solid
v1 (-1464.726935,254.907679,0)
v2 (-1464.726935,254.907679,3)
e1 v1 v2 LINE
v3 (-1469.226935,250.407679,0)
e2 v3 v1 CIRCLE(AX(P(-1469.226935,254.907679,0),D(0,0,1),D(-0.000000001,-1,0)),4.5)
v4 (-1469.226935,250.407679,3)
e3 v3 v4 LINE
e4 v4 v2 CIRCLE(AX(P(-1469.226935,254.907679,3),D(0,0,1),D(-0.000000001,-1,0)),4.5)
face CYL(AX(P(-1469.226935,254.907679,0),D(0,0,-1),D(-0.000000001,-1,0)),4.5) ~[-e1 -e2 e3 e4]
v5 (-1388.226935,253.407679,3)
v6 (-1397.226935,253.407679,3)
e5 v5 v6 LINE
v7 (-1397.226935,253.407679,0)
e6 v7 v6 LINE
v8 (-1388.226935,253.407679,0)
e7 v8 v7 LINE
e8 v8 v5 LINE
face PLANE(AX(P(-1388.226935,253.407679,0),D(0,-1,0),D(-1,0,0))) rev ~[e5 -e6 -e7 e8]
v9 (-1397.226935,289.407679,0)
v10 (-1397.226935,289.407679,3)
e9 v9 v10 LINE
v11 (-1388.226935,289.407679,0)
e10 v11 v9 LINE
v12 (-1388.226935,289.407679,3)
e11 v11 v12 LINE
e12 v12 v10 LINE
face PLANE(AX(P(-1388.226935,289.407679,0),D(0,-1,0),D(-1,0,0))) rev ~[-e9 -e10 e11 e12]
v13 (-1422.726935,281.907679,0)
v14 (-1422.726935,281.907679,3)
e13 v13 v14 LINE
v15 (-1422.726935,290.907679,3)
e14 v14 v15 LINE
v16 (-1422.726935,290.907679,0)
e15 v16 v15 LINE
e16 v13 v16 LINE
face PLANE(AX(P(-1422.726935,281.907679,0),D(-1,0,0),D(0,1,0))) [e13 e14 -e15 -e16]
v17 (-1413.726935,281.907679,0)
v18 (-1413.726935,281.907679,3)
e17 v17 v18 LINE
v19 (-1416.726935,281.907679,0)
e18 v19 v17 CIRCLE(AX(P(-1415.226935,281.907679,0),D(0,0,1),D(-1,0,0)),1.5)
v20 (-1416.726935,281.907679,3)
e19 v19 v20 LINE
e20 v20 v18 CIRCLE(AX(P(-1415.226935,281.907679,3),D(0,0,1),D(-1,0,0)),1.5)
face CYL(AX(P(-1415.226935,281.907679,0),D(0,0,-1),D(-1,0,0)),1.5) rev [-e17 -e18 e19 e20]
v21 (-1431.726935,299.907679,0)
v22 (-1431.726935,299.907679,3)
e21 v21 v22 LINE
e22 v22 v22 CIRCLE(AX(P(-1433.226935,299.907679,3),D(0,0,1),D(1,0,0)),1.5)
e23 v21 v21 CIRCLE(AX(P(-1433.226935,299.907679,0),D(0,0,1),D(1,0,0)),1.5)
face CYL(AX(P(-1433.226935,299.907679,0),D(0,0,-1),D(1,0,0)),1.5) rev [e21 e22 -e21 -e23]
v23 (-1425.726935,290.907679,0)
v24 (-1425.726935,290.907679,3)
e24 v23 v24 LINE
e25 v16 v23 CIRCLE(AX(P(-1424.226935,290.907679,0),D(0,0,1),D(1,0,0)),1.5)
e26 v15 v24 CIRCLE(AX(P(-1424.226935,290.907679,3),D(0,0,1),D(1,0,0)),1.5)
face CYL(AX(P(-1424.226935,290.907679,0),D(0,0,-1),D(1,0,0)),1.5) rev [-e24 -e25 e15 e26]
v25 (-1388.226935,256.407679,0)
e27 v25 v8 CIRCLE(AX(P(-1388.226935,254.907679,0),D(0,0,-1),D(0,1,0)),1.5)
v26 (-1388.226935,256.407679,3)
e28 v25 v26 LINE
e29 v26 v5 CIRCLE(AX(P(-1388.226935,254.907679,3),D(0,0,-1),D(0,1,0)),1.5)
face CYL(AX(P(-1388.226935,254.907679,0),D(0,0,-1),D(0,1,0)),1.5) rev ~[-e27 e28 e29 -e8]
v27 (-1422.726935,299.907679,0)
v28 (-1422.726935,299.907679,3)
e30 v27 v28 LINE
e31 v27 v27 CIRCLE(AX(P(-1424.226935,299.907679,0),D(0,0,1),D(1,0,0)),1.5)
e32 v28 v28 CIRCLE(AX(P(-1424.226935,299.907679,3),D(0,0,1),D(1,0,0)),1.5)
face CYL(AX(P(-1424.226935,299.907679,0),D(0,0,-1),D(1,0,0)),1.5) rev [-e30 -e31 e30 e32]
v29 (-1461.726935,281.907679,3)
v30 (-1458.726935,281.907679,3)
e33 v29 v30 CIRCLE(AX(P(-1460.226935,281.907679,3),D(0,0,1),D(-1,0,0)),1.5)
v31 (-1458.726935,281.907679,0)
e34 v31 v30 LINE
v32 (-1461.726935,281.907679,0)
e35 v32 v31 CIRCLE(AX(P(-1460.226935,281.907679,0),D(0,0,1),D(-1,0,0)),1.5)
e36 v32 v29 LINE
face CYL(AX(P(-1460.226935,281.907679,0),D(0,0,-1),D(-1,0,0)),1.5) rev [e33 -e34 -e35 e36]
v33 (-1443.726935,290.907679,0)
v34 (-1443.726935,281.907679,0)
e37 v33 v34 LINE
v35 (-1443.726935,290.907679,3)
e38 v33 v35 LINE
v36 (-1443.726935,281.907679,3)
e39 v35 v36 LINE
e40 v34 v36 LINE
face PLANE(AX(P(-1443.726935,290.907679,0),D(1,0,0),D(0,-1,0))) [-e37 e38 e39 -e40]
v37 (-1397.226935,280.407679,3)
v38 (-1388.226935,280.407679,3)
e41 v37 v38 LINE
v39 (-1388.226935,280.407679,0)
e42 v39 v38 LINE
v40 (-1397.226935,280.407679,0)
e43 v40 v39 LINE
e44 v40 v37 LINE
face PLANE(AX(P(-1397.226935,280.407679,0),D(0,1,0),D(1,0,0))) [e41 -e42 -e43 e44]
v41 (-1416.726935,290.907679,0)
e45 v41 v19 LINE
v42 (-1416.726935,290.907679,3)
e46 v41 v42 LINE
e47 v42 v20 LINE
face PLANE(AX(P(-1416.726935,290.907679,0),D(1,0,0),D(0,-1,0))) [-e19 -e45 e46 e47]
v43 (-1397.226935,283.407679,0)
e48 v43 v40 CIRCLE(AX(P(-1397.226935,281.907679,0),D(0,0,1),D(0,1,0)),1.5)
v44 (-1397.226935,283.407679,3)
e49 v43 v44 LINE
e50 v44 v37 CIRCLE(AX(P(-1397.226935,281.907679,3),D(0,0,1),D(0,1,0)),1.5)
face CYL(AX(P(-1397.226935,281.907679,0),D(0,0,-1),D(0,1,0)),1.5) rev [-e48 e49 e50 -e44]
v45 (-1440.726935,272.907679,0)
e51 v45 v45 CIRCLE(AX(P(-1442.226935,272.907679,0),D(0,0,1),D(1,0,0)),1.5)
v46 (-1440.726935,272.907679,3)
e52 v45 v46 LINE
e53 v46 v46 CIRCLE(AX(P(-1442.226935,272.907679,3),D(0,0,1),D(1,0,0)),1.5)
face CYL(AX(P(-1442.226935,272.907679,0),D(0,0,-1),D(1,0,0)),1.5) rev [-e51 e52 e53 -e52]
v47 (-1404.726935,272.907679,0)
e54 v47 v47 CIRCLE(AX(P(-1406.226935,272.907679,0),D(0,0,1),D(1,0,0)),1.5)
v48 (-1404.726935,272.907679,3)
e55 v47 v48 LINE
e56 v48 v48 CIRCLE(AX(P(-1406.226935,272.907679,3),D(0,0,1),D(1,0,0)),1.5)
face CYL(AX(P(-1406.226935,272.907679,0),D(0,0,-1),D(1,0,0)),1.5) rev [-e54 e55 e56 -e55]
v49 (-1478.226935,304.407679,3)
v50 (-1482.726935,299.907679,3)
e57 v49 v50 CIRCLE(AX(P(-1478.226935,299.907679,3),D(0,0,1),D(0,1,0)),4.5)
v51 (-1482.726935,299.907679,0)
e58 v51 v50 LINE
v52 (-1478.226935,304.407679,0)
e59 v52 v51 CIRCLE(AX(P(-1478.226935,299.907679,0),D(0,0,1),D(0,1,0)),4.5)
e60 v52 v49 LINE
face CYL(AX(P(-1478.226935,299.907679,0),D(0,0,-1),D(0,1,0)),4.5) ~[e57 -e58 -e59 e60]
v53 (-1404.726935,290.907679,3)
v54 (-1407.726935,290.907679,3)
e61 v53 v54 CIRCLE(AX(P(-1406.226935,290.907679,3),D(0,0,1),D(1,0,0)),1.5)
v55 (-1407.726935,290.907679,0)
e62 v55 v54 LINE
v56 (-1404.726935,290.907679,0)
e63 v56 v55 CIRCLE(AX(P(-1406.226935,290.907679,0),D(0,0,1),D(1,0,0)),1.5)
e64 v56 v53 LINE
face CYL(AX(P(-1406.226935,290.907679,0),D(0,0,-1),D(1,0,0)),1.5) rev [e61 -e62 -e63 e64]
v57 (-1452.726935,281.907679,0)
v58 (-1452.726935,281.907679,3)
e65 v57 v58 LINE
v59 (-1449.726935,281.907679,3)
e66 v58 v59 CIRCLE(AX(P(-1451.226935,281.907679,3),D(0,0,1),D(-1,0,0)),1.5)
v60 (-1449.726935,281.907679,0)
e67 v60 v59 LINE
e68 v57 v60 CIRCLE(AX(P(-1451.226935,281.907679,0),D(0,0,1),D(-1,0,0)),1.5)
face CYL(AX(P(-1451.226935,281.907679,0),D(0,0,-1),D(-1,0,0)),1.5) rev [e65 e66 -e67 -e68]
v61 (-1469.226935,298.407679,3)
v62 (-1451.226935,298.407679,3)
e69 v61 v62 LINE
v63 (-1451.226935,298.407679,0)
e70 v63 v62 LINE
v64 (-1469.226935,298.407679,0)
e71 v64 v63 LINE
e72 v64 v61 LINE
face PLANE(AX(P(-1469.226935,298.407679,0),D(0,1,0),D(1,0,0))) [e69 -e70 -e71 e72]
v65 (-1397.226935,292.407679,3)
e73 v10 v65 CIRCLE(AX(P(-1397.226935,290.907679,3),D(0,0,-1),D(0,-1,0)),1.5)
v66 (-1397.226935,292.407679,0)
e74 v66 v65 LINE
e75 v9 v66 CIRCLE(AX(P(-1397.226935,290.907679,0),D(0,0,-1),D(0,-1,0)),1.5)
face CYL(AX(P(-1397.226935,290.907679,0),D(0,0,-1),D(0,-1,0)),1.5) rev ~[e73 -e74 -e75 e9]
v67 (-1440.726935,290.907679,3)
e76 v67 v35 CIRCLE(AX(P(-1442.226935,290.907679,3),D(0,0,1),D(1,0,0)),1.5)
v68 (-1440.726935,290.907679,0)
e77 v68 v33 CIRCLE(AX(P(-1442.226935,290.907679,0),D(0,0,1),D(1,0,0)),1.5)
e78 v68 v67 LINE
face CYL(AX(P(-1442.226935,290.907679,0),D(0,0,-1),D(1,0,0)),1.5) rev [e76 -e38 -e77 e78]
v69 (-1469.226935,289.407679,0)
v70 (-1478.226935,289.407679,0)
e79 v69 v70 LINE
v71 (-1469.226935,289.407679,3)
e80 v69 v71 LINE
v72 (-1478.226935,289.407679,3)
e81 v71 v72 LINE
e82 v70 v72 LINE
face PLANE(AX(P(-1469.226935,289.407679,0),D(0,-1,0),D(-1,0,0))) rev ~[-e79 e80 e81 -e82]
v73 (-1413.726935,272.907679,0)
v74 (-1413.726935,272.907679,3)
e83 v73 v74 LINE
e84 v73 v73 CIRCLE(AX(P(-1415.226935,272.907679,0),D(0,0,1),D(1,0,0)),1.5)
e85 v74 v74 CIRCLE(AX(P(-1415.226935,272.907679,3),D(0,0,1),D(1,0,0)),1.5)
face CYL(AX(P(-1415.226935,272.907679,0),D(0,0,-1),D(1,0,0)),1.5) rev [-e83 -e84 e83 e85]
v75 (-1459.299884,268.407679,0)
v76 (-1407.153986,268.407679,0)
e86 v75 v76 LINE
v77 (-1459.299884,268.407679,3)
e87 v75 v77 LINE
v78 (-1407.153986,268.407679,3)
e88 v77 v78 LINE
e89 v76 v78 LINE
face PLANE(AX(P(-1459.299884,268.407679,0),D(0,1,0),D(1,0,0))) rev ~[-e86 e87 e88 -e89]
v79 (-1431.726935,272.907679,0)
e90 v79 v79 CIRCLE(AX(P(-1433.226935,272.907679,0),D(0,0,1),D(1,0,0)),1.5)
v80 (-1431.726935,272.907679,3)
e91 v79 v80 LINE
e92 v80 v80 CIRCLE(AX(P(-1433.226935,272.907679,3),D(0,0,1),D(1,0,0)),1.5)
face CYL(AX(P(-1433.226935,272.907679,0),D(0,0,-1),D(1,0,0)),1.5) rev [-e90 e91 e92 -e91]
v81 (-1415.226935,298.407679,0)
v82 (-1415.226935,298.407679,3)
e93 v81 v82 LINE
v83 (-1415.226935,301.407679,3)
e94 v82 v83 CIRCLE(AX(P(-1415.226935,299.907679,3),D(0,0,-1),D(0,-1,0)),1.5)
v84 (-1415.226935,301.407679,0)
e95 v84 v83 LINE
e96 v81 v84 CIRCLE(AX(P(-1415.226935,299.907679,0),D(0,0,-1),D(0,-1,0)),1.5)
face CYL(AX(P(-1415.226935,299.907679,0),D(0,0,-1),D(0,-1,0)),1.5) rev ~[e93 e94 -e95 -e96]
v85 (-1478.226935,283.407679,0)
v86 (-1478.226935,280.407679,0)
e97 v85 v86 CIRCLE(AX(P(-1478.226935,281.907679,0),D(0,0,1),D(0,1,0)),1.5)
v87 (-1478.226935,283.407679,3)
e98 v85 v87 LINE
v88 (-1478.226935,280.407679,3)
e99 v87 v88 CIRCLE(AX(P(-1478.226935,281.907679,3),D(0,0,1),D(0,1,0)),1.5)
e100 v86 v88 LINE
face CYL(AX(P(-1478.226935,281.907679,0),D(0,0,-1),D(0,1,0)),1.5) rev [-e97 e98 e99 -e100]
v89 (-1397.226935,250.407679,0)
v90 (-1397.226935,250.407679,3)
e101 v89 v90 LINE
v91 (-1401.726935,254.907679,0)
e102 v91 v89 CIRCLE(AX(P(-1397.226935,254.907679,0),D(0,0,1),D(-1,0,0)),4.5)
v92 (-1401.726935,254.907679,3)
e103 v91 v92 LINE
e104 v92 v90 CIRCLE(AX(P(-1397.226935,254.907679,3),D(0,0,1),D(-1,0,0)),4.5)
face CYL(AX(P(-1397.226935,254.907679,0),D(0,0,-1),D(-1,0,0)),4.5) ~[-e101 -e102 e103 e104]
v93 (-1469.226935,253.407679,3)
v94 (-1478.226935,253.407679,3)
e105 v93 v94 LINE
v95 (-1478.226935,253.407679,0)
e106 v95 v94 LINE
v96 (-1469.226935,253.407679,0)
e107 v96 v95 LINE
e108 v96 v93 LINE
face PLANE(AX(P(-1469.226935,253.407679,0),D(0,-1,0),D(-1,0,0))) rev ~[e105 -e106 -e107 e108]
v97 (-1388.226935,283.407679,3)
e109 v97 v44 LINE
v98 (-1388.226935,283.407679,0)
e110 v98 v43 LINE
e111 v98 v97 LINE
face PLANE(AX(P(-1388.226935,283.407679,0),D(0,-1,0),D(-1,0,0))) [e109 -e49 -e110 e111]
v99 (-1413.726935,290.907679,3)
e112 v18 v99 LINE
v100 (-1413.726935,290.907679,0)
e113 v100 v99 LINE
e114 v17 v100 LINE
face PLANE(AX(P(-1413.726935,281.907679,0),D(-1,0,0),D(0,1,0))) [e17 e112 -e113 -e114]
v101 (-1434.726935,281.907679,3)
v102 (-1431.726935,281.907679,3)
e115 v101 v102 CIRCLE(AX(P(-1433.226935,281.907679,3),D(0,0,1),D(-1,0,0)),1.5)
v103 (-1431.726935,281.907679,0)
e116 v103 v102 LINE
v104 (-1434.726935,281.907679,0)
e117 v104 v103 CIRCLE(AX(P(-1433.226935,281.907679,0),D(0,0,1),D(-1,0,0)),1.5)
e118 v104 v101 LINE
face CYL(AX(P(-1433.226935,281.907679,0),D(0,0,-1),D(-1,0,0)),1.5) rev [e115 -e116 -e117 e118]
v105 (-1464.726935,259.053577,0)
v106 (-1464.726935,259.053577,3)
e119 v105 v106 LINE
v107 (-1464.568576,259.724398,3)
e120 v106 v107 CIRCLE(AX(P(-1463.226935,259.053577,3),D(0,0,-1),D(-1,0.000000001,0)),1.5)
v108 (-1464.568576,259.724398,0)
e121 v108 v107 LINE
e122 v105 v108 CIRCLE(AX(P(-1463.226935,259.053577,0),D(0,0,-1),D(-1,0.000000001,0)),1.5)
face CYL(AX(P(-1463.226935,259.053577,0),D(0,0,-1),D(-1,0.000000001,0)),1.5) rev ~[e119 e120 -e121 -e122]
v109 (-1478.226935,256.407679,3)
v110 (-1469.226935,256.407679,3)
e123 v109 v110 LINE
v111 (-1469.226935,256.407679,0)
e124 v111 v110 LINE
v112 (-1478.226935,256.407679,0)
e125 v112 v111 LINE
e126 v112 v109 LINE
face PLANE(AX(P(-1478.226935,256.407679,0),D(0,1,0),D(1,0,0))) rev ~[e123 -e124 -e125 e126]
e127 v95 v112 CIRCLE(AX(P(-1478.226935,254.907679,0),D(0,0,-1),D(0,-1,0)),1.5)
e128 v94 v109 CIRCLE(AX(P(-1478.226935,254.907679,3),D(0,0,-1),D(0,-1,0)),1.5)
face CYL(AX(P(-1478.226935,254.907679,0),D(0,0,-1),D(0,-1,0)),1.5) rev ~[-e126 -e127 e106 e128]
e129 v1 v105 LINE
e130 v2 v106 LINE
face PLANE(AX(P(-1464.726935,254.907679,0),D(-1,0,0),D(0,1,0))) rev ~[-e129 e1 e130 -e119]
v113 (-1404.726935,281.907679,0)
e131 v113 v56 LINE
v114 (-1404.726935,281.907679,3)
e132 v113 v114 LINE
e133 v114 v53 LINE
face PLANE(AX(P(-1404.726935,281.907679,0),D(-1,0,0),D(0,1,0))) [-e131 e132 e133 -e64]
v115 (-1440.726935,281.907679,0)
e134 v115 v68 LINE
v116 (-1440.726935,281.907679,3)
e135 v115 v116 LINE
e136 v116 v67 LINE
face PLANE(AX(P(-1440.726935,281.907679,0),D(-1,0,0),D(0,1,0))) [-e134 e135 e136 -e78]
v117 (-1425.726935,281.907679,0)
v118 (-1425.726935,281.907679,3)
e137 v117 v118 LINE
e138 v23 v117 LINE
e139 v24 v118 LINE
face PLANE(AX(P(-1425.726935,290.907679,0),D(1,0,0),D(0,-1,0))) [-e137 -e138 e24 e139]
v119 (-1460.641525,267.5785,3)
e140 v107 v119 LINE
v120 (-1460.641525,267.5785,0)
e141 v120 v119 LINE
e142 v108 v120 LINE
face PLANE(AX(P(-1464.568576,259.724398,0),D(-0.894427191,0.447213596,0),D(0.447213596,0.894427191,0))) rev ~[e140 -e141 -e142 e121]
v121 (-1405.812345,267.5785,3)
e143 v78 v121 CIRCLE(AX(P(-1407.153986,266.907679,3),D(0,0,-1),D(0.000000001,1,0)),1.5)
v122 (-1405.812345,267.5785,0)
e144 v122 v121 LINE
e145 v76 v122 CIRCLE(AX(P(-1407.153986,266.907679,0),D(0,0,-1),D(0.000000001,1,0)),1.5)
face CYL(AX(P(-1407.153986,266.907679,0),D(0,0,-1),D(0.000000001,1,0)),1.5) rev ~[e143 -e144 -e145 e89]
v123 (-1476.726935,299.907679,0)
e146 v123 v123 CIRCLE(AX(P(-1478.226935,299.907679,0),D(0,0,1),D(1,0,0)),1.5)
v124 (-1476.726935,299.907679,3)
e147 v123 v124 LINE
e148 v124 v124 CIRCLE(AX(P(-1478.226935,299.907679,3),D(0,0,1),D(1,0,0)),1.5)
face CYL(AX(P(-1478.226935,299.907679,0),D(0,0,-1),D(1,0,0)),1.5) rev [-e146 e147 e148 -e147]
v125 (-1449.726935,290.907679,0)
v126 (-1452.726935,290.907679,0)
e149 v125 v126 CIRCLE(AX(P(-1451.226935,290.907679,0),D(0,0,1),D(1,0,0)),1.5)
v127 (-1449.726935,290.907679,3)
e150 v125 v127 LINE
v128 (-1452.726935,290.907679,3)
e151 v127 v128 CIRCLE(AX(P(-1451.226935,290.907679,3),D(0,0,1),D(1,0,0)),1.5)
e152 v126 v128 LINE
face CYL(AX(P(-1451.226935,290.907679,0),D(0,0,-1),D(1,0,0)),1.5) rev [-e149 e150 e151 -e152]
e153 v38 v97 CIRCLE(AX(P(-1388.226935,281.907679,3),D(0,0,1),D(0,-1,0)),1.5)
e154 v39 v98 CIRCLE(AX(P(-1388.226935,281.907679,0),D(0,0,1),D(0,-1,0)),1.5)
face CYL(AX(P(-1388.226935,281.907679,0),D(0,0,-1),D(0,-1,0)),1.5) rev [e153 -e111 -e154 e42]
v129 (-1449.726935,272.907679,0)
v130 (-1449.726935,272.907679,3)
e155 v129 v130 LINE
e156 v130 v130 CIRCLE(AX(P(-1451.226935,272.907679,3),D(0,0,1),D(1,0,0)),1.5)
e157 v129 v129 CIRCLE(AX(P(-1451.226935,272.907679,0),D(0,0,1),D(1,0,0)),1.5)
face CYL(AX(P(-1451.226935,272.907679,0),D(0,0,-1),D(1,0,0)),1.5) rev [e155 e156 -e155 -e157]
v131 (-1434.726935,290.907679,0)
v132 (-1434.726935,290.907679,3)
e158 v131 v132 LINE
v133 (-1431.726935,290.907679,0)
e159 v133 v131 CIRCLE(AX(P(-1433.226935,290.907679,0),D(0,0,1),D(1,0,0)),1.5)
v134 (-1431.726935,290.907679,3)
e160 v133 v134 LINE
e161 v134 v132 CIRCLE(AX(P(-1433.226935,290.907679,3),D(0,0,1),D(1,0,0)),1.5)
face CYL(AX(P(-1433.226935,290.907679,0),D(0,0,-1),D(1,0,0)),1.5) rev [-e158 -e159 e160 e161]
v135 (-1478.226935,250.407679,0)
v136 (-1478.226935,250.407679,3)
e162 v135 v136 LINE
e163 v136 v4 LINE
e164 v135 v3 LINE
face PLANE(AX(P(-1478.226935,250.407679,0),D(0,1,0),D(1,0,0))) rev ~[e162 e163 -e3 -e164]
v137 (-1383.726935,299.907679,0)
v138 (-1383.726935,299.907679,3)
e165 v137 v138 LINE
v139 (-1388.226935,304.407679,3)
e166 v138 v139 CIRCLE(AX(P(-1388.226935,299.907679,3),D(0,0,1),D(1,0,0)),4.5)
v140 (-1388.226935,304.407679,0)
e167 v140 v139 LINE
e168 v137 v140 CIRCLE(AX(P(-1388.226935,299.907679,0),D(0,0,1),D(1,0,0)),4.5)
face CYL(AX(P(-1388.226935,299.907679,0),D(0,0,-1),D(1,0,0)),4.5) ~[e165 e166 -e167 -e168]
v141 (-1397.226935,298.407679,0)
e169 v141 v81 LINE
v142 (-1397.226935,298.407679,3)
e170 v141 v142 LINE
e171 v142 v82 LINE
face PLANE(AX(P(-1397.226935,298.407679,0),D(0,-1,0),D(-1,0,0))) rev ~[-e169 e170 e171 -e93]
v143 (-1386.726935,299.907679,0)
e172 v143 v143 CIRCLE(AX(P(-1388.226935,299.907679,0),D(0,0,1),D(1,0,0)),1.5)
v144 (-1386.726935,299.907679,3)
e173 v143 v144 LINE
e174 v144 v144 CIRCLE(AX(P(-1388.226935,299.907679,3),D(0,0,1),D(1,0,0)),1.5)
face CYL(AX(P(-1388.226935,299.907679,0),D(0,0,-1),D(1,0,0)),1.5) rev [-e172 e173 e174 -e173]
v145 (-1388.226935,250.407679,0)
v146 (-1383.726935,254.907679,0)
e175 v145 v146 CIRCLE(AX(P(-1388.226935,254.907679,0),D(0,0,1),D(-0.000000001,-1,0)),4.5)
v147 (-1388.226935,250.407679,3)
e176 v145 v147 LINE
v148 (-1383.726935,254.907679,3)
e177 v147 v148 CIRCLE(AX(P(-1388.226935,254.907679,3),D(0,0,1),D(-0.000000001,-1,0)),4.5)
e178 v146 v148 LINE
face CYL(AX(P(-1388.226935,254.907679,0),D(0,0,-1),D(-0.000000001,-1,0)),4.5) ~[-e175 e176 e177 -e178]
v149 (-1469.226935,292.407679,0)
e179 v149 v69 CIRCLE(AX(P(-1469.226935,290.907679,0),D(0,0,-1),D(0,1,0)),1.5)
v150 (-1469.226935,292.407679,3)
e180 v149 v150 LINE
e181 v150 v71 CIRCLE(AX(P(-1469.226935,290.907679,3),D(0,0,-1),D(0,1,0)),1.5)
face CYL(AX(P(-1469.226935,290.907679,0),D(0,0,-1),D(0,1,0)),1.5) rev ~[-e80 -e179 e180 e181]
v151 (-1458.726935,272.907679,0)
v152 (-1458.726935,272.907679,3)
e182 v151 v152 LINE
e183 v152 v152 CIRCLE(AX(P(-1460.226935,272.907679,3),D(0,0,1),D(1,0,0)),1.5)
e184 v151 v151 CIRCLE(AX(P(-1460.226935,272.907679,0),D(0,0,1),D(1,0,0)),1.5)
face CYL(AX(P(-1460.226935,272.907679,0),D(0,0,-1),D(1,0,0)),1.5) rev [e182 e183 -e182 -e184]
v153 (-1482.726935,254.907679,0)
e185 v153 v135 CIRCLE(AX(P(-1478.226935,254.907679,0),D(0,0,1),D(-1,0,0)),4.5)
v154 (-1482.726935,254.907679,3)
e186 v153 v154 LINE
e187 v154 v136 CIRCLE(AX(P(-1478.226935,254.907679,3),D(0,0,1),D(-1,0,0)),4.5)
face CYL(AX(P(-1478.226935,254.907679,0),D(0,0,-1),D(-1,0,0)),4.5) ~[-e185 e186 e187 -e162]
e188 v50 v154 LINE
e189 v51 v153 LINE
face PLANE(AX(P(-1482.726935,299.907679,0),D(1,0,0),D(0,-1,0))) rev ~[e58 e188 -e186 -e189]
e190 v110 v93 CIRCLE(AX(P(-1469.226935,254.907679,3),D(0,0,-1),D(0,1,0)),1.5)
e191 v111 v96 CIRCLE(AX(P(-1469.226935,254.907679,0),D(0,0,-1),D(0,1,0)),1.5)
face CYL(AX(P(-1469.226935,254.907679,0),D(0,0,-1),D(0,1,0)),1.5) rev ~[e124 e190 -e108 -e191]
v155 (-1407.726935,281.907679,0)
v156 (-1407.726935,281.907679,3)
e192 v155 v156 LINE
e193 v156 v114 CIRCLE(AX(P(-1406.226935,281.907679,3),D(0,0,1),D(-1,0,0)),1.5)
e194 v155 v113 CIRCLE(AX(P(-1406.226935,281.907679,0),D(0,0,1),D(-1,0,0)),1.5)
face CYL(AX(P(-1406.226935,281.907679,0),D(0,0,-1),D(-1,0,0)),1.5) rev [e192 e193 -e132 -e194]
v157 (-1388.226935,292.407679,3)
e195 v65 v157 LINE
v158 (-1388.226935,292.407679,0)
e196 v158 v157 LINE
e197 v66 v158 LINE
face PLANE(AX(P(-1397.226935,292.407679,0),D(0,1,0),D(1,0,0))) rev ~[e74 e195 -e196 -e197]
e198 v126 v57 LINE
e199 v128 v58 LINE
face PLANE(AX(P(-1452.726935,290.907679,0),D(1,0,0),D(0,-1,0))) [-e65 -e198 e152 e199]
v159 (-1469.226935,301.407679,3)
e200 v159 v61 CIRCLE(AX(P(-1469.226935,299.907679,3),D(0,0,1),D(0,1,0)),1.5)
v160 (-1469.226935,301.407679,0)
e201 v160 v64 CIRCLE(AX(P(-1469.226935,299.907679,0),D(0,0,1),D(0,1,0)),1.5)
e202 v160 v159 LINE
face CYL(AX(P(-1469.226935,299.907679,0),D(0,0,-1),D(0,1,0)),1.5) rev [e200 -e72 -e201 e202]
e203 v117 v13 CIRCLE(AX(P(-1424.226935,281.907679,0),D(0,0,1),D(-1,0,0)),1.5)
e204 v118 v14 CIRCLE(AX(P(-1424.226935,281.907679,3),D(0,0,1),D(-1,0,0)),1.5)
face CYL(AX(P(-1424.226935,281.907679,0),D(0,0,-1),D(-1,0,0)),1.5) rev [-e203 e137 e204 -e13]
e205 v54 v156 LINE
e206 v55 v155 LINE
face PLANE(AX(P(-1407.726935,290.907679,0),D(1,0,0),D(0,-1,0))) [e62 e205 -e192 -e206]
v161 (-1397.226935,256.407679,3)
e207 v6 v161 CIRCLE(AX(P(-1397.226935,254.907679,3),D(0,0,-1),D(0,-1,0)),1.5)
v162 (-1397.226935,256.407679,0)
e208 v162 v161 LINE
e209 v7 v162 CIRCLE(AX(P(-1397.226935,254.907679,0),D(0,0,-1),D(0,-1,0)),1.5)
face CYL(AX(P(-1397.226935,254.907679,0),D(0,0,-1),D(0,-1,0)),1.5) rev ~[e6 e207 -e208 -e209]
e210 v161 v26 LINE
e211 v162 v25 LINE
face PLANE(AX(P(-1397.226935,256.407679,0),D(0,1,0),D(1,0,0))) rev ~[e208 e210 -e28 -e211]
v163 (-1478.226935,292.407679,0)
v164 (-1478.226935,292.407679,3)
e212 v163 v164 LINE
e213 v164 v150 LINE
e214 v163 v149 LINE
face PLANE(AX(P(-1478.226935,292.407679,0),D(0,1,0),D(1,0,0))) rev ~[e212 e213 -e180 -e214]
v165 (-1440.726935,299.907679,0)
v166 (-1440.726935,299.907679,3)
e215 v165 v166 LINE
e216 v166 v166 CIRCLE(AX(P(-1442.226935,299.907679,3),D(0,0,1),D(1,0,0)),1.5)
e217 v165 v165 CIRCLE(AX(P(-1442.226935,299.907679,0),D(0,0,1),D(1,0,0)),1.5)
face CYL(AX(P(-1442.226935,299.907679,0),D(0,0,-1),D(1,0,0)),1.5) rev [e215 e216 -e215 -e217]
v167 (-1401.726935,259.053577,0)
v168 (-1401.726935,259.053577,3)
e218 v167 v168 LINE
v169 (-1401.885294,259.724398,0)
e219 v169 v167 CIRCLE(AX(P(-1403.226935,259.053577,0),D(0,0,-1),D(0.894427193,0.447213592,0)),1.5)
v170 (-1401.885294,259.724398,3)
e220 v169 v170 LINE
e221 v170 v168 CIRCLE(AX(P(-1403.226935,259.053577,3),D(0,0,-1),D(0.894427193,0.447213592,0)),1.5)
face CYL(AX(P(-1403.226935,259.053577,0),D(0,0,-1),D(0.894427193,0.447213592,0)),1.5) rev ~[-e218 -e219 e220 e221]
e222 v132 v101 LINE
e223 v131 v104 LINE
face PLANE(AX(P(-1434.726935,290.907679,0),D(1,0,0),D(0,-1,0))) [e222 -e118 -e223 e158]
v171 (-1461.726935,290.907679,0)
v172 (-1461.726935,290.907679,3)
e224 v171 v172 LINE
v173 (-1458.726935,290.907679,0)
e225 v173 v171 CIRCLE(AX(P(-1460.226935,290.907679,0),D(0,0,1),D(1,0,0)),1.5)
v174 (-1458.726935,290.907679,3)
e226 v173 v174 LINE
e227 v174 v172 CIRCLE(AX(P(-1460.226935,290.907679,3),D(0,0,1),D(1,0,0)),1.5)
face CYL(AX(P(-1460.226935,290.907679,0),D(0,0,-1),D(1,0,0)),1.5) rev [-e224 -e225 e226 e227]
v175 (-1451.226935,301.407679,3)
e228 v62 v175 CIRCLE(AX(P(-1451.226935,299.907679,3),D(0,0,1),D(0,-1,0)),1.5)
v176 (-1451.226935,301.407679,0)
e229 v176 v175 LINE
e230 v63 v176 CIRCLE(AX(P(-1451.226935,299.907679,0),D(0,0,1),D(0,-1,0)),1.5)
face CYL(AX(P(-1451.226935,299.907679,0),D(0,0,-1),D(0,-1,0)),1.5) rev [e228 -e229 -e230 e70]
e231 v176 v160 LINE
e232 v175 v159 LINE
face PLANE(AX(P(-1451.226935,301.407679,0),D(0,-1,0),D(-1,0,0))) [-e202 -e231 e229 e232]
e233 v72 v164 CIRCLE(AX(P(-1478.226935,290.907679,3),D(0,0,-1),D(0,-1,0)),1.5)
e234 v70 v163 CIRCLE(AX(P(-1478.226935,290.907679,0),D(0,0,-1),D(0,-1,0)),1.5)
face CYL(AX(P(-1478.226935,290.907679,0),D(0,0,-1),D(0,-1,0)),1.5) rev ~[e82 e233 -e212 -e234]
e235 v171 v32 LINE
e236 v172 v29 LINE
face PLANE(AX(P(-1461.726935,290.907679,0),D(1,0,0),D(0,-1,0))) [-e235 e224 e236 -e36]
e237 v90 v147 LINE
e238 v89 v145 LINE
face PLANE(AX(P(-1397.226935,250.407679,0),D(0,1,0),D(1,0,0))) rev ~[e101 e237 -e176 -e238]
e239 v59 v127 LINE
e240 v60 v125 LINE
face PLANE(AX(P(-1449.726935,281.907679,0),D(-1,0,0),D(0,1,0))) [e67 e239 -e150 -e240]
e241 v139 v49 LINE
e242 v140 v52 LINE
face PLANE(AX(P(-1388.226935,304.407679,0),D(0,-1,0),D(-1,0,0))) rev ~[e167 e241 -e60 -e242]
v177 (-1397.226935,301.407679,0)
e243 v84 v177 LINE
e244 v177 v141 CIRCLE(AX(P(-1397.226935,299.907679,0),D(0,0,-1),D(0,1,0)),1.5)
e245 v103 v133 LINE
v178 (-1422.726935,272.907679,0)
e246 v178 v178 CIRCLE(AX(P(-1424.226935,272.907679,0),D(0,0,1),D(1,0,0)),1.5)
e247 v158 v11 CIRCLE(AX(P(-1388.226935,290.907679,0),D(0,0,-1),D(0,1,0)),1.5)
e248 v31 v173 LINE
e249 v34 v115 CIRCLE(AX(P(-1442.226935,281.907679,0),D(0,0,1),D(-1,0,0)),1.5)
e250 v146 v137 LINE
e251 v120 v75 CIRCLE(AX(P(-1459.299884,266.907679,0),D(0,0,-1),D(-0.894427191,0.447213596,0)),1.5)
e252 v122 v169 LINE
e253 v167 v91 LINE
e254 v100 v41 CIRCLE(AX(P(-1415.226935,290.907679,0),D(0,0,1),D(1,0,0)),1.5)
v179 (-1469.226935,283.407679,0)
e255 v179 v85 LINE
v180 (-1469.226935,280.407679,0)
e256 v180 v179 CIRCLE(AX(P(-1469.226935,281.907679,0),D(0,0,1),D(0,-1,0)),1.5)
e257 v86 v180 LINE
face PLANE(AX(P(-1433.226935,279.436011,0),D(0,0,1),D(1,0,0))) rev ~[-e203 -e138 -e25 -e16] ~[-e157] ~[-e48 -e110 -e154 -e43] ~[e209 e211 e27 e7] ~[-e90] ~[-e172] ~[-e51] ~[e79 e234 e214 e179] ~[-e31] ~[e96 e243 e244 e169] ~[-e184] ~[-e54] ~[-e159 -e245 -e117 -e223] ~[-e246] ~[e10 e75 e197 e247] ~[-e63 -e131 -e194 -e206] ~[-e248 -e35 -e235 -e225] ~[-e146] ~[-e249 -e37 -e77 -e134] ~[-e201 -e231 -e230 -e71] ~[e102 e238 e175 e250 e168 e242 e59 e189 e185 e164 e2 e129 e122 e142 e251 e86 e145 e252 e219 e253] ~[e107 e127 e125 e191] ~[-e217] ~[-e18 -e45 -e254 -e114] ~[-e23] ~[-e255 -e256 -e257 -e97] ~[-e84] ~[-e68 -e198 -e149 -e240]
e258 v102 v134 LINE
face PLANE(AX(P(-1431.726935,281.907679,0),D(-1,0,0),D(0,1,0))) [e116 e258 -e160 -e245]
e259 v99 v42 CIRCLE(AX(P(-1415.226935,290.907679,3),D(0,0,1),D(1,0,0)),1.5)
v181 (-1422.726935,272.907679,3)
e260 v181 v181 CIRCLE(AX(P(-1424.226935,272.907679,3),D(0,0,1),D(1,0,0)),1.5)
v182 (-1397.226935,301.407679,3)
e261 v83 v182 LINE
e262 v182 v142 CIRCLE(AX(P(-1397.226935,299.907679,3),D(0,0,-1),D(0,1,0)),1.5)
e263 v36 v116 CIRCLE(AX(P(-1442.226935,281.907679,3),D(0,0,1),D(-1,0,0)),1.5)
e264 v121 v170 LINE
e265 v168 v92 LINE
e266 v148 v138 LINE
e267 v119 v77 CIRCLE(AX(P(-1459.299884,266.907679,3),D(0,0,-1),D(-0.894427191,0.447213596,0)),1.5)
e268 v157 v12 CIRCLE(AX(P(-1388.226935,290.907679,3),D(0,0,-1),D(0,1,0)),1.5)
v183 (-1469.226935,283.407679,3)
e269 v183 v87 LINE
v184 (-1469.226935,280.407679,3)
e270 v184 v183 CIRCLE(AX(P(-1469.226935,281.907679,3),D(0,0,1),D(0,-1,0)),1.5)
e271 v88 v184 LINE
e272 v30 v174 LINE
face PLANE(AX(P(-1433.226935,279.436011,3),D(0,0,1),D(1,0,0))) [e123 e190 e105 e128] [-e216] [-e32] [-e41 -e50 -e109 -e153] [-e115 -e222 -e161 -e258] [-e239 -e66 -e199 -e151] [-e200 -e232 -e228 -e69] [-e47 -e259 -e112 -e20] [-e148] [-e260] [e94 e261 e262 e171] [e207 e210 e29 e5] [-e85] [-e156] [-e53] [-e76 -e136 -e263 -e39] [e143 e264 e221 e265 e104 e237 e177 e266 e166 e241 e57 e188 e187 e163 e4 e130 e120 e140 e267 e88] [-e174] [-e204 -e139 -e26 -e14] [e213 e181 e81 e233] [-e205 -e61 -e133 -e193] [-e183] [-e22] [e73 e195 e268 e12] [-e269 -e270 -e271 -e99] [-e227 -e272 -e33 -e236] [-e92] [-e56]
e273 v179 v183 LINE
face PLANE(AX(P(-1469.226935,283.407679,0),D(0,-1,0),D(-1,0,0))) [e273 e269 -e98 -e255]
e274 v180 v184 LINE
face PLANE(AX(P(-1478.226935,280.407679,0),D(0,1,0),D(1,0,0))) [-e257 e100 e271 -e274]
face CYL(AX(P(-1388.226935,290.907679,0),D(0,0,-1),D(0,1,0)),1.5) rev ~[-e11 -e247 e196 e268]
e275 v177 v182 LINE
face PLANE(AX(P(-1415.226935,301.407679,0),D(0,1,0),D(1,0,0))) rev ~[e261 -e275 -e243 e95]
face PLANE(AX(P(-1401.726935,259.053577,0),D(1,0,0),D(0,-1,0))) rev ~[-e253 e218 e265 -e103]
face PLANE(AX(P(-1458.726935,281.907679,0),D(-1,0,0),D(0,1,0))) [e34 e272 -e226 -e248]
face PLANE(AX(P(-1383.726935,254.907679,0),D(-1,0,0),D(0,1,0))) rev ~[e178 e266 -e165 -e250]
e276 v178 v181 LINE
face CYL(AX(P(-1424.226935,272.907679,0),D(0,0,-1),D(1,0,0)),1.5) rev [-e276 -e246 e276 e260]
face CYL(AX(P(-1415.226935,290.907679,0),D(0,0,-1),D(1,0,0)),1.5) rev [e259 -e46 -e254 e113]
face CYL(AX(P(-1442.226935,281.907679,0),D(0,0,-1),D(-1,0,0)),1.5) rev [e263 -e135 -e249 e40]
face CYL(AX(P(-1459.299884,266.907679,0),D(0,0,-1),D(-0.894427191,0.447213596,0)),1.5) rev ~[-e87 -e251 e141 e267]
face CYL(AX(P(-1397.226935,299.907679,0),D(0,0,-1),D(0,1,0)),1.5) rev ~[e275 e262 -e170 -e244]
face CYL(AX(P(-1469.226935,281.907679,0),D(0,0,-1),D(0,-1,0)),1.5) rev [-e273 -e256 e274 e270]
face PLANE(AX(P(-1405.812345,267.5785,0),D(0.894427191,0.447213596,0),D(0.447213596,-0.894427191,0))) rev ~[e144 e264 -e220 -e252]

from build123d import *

# Parameters (mm, degrees)
MODEL_R                 = 1.5
SALIENTE_EXTRUIR1_DEPTH = 3


with BuildPart() as part:
    # Model → Saliente-Extruir1 (new body)
    with BuildSketch(Plane.XY):
        with BuildLine():
            Line((-1388.226934946, 304.407679238), (-1478.226934946, 304.407679238))
            ThreePointArc((-1478.226934946, 304.407679238), (-1481.408915461, 303.089659753), (-1482.726934946, 299.907679238))
            Line((-1482.726934946, 299.907679238), (-1482.726934946, 254.907679238))
            ThreePointArc((-1482.726934946, 254.907679238), (-1481.408915461, 251.725698722), (-1478.226934946, 250.407679238))
            Line((-1478.226934946, 250.407679238), (-1469.226934946, 250.407679238))
            ThreePointArc((-1469.226934946, 250.407679238), (-1466.04495443, 251.725698722), (-1464.726934946, 254.907679238))
            Line((-1464.726934946, 254.907679238), (-1464.726934946, 259.053577271))
            ThreePointArc((-1464.726934946, 259.053577271), (-1464.68680843, 259.398206652), (-1464.568575732, 259.724397665))
            Line((-1464.568575732, 259.724397665), (-1460.641524749, 267.578499631))
            ThreePointArc((-1460.641524749, 267.578499631), (-1460.088480631, 268.18365545), (-1459.299883963, 268.407679238))
            Line((-1459.299883963, 268.407679238), (-1407.153985929, 268.407679238))
            ThreePointArc((-1407.153985929, 268.407679238), (-1406.365389261, 268.18365545), (-1405.812345142, 267.578499631))
            Line((-1405.812345142, 267.578499631), (-1401.885294159, 259.724397665))
            ThreePointArc((-1401.885294159, 259.724397665), (-1401.767061462, 259.398206652), (-1401.726934946, 259.053577271))
            Line((-1401.726934946, 259.053577271), (-1401.726934946, 254.907679238))
            ThreePointArc((-1401.726934946, 254.907679238), (-1400.408915461, 251.725698722), (-1397.226934946, 250.407679238))
            Line((-1397.226934946, 250.407679238), (-1388.226934946, 250.407679238))
            ThreePointArc((-1388.226934946, 250.407679238), (-1385.04495443, 251.725698722), (-1383.726934946, 254.907679238))
            Line((-1383.726934946, 254.907679238), (-1383.726934946, 299.907679238))
            ThreePointArc((-1383.726934946, 299.907679238), (-1385.04495443, 303.089659753), (-1388.226934946, 304.407679238))
        make_face()
        with Locations((-1424.226934946, 299.907679238)):
            Circle(MODEL_R, mode=Mode.SUBTRACT)
        with Locations((-1433.226934946, 299.907679238)):
            Circle(MODEL_R, mode=Mode.SUBTRACT)
        with Locations((-1442.226934946, 299.907679238)):
            Circle(MODEL_R, mode=Mode.SUBTRACT)
        with Locations((-1478.226934946, 299.907679238)):
            Circle(MODEL_R, mode=Mode.SUBTRACT)
        with Locations((-1388.226934946, 299.907679238)):
            Circle(MODEL_R, mode=Mode.SUBTRACT)
        with Locations((-1406.226934946, 272.907679238)):
            Circle(MODEL_R, mode=Mode.SUBTRACT)
        with Locations((-1415.226934946, 272.907679238)):
            Circle(MODEL_R, mode=Mode.SUBTRACT)
        with Locations((-1424.226934946, 272.907679238)):
            Circle(MODEL_R, mode=Mode.SUBTRACT)
        with Locations((-1433.226934946, 272.907679238)):
            Circle(MODEL_R, mode=Mode.SUBTRACT)
        with Locations((-1442.226934946, 272.907679238)):
            Circle(MODEL_R, mode=Mode.SUBTRACT)
        with Locations((-1451.226934946, 272.907679238)):
            Circle(MODEL_R, mode=Mode.SUBTRACT)
        with Locations((-1460.226934946, 272.907679238)):
            Circle(MODEL_R, mode=Mode.SUBTRACT)
        with BuildLine():
            Line((-1458.726934946, 281.907679238), (-1458.726934946, 290.907679238))
            ThreePointArc((-1458.726934946, 290.907679238), (-1460.226934946, 292.407679238), (-1461.726934946, 290.907679238))
            Line((-1461.726934946, 290.907679238), (-1461.726934946, 281.907679238))
            ThreePointArc((-1461.726934946, 281.907679238), (-1460.226934946, 280.407679238), (-1458.726934946, 281.907679238))
        make_face(mode=Mode.SUBTRACT)
        with BuildLine():
            Line((-1449.726934946, 281.907679238), (-1449.726934946, 290.907679238))
            ThreePointArc((-1449.726934946, 290.907679238), (-1451.226934946, 292.407679238), (-1452.726934946, 290.907679238))
            Line((-1452.726934946, 290.907679238), (-1452.726934946, 281.907679238))
            ThreePointArc((-1452.726934946, 281.907679238), (-1451.226934946, 280.407679238), (-1449.726934946, 281.907679238))
        make_face(mode=Mode.SUBTRACT)
        with BuildLine():
            Line((-1440.726934946, 281.907679238), (-1440.726934946, 290.907679238))
            ThreePointArc((-1440.726934946, 290.907679238), (-1442.226934946, 292.407679238), (-1443.726934946, 290.907679238))
            Line((-1443.726934946, 290.907679238), (-1443.726934946, 281.907679238))
            ThreePointArc((-1443.726934946, 281.907679238), (-1442.226934946, 280.407679238), (-1440.726934946, 281.907679238))
        make_face(mode=Mode.SUBTRACT)
        with BuildLine():
            Line((-1431.726934946, 281.907679238), (-1431.726934946, 290.907679238))
            ThreePointArc((-1431.726934946, 290.907679238), (-1433.226934946, 292.407679238), (-1434.726934946, 290.907679238))
            Line((-1434.726934946, 290.907679238), (-1434.726934946, 281.907679238))
            ThreePointArc((-1434.726934946, 281.907679238), (-1433.226934946, 280.407679238), (-1431.726934946, 281.907679238))
        make_face(mode=Mode.SUBTRACT)
        with BuildLine():
            Line((-1422.726934946, 281.907679238), (-1422.726934946, 290.907679238))
            ThreePointArc((-1422.726934946, 290.907679238), (-1424.226934946, 292.407679238), (-1425.726934946, 290.907679238))
            Line((-1425.726934946, 290.907679238), (-1425.726934946, 281.907679238))
            ThreePointArc((-1425.726934946, 281.907679238), (-1424.226934946, 280.407679238), (-1422.726934946, 281.907679238))
        make_face(mode=Mode.SUBTRACT)
        with BuildLine():
            Line((-1413.726934946, 281.907679238), (-1413.726934946, 290.907679238))
            ThreePointArc((-1413.726934946, 290.907679238), (-1415.226934946, 292.407679238), (-1416.726934946, 290.907679238))
            Line((-1416.726934946, 290.907679238), (-1416.726934946, 281.907679238))
            ThreePointArc((-1416.726934946, 281.907679238), (-1415.226934946, 280.407679238), (-1413.726934946, 281.907679238))
        make_face(mode=Mode.SUBTRACT)
        with BuildLine():
            Line((-1404.726934946, 281.907679238), (-1404.726934946, 290.907679238))
            ThreePointArc((-1404.726934946, 290.907679238), (-1406.226934946, 292.407679238), (-1407.726934946, 290.907679238))
            Line((-1407.726934946, 290.907679238), (-1407.726934946, 281.907679238))
            ThreePointArc((-1407.726934946, 281.907679238), (-1406.226934946, 280.407679238), (-1404.726934946, 281.907679238))
        make_face(mode=Mode.SUBTRACT)
        with BuildLine():
            Line((-1478.226934946, 292.407679238), (-1469.226934946, 292.407679238))
            ThreePointArc((-1469.226934946, 292.407679238), (-1467.726934946, 290.907679238), (-1469.226934946, 289.407679238))
            Line((-1469.226934946, 289.407679238), (-1478.226934946, 289.407679238))
            ThreePointArc((-1478.226934946, 289.407679238), (-1479.726934946, 290.907679238), (-1478.226934946, 292.407679238))
        make_face(mode=Mode.SUBTRACT)
        with BuildLine():
            Line((-1397.226934946, 292.407679238), (-1388.226934946, 292.407679238))
            ThreePointArc((-1388.226934946, 292.407679238), (-1386.726934946, 290.907679238), (-1388.226934946, 289.407679238))
            Line((-1388.226934946, 289.407679238), (-1397.226934946, 289.407679238))
            ThreePointArc((-1397.226934946, 289.407679238), (-1398.726934946, 290.907679238), (-1397.226934946, 292.407679238))
        make_face(mode=Mode.SUBTRACT)
        with BuildLine():
            Line((-1397.226934946, 280.407679238), (-1388.226934946, 280.407679238))
            ThreePointArc((-1388.226934946, 280.407679238), (-1386.726934946, 281.907679238), (-1388.226934946, 283.407679238))
            Line((-1388.226934946, 283.407679238), (-1397.226934946, 283.407679238))
            ThreePointArc((-1397.226934946, 283.407679238), (-1398.726934946, 281.907679238), (-1397.226934946, 280.407679238))
        make_face(mode=Mode.SUBTRACT)
        with BuildLine():
            Line((-1469.226934946, 298.407679238), (-1451.226934946, 298.407679238))
            ThreePointArc((-1451.226934946, 298.407679238), (-1449.726934946, 299.907679238), (-1451.226934946, 301.407679238))
            Line((-1451.226934946, 301.407679238), (-1469.226934946, 301.407679238))
            ThreePointArc((-1469.226934946, 301.407679238), (-1470.726934946, 299.907679238), (-1469.226934946, 298.407679238))
        make_face(mode=Mode.SUBTRACT)
        with BuildLine():
            Line((-1415.226934946, 301.407679238), (-1397.226934946, 301.407679238))
            ThreePointArc((-1397.226934946, 301.407679238), (-1395.726934946, 299.907679238), (-1397.226934946, 298.407679238))
            Line((-1397.226934946, 298.407679238), (-1415.226934946, 298.407679238))
            ThreePointArc((-1415.226934946, 298.407679238), (-1416.726934946, 299.907679238), (-1415.226934946, 301.407679238))
        make_face(mode=Mode.SUBTRACT)
        with BuildLine():
            Line((-1478.226934946, 280.407679238), (-1469.226934946, 280.407679238))
            ThreePointArc((-1469.226934946, 280.407679238), (-1467.726934946, 281.907679238), (-1469.226934946, 283.407679238))
            Line((-1469.226934946, 283.407679238), (-1478.226934946, 283.407679238))
            ThreePointArc((-1478.226934946, 283.407679238), (-1479.726934946, 281.907679238), (-1478.226934946, 280.407679238))
        make_face(mode=Mode.SUBTRACT)
        with BuildLine():
            Line((-1478.226934946, 256.407679238), (-1469.226934946, 256.407679238))
            ThreePointArc((-1469.226934946, 256.407679238), (-1467.726934946, 254.907679238), (-1469.226934946, 253.407679238))
            Line((-1469.226934946, 253.407679238), (-1478.226934946, 253.407679238))
            ThreePointArc((-1478.226934946, 253.407679238), (-1479.726934946, 254.907679238), (-1478.226934946, 256.407679238))
        make_face(mode=Mode.SUBTRACT)
        with BuildLine():
            Line((-1397.226934946, 256.407679238), (-1388.226934946, 256.407679238))
            ThreePointArc((-1388.226934946, 256.407679238), (-1386.726934946, 254.907679238), (-1388.226934946, 253.407679238))
            Line((-1388.226934946, 253.407679238), (-1397.226934946, 253.407679238))
            ThreePointArc((-1397.226934946, 253.407679238), (-1398.726934946, 254.907679238), (-1397.226934946, 256.407679238))
        make_face(mode=Mode.SUBTRACT)
    extrude(amount=SALIENTE_EXTRUIR1_DEPTH)


solid = part.part
